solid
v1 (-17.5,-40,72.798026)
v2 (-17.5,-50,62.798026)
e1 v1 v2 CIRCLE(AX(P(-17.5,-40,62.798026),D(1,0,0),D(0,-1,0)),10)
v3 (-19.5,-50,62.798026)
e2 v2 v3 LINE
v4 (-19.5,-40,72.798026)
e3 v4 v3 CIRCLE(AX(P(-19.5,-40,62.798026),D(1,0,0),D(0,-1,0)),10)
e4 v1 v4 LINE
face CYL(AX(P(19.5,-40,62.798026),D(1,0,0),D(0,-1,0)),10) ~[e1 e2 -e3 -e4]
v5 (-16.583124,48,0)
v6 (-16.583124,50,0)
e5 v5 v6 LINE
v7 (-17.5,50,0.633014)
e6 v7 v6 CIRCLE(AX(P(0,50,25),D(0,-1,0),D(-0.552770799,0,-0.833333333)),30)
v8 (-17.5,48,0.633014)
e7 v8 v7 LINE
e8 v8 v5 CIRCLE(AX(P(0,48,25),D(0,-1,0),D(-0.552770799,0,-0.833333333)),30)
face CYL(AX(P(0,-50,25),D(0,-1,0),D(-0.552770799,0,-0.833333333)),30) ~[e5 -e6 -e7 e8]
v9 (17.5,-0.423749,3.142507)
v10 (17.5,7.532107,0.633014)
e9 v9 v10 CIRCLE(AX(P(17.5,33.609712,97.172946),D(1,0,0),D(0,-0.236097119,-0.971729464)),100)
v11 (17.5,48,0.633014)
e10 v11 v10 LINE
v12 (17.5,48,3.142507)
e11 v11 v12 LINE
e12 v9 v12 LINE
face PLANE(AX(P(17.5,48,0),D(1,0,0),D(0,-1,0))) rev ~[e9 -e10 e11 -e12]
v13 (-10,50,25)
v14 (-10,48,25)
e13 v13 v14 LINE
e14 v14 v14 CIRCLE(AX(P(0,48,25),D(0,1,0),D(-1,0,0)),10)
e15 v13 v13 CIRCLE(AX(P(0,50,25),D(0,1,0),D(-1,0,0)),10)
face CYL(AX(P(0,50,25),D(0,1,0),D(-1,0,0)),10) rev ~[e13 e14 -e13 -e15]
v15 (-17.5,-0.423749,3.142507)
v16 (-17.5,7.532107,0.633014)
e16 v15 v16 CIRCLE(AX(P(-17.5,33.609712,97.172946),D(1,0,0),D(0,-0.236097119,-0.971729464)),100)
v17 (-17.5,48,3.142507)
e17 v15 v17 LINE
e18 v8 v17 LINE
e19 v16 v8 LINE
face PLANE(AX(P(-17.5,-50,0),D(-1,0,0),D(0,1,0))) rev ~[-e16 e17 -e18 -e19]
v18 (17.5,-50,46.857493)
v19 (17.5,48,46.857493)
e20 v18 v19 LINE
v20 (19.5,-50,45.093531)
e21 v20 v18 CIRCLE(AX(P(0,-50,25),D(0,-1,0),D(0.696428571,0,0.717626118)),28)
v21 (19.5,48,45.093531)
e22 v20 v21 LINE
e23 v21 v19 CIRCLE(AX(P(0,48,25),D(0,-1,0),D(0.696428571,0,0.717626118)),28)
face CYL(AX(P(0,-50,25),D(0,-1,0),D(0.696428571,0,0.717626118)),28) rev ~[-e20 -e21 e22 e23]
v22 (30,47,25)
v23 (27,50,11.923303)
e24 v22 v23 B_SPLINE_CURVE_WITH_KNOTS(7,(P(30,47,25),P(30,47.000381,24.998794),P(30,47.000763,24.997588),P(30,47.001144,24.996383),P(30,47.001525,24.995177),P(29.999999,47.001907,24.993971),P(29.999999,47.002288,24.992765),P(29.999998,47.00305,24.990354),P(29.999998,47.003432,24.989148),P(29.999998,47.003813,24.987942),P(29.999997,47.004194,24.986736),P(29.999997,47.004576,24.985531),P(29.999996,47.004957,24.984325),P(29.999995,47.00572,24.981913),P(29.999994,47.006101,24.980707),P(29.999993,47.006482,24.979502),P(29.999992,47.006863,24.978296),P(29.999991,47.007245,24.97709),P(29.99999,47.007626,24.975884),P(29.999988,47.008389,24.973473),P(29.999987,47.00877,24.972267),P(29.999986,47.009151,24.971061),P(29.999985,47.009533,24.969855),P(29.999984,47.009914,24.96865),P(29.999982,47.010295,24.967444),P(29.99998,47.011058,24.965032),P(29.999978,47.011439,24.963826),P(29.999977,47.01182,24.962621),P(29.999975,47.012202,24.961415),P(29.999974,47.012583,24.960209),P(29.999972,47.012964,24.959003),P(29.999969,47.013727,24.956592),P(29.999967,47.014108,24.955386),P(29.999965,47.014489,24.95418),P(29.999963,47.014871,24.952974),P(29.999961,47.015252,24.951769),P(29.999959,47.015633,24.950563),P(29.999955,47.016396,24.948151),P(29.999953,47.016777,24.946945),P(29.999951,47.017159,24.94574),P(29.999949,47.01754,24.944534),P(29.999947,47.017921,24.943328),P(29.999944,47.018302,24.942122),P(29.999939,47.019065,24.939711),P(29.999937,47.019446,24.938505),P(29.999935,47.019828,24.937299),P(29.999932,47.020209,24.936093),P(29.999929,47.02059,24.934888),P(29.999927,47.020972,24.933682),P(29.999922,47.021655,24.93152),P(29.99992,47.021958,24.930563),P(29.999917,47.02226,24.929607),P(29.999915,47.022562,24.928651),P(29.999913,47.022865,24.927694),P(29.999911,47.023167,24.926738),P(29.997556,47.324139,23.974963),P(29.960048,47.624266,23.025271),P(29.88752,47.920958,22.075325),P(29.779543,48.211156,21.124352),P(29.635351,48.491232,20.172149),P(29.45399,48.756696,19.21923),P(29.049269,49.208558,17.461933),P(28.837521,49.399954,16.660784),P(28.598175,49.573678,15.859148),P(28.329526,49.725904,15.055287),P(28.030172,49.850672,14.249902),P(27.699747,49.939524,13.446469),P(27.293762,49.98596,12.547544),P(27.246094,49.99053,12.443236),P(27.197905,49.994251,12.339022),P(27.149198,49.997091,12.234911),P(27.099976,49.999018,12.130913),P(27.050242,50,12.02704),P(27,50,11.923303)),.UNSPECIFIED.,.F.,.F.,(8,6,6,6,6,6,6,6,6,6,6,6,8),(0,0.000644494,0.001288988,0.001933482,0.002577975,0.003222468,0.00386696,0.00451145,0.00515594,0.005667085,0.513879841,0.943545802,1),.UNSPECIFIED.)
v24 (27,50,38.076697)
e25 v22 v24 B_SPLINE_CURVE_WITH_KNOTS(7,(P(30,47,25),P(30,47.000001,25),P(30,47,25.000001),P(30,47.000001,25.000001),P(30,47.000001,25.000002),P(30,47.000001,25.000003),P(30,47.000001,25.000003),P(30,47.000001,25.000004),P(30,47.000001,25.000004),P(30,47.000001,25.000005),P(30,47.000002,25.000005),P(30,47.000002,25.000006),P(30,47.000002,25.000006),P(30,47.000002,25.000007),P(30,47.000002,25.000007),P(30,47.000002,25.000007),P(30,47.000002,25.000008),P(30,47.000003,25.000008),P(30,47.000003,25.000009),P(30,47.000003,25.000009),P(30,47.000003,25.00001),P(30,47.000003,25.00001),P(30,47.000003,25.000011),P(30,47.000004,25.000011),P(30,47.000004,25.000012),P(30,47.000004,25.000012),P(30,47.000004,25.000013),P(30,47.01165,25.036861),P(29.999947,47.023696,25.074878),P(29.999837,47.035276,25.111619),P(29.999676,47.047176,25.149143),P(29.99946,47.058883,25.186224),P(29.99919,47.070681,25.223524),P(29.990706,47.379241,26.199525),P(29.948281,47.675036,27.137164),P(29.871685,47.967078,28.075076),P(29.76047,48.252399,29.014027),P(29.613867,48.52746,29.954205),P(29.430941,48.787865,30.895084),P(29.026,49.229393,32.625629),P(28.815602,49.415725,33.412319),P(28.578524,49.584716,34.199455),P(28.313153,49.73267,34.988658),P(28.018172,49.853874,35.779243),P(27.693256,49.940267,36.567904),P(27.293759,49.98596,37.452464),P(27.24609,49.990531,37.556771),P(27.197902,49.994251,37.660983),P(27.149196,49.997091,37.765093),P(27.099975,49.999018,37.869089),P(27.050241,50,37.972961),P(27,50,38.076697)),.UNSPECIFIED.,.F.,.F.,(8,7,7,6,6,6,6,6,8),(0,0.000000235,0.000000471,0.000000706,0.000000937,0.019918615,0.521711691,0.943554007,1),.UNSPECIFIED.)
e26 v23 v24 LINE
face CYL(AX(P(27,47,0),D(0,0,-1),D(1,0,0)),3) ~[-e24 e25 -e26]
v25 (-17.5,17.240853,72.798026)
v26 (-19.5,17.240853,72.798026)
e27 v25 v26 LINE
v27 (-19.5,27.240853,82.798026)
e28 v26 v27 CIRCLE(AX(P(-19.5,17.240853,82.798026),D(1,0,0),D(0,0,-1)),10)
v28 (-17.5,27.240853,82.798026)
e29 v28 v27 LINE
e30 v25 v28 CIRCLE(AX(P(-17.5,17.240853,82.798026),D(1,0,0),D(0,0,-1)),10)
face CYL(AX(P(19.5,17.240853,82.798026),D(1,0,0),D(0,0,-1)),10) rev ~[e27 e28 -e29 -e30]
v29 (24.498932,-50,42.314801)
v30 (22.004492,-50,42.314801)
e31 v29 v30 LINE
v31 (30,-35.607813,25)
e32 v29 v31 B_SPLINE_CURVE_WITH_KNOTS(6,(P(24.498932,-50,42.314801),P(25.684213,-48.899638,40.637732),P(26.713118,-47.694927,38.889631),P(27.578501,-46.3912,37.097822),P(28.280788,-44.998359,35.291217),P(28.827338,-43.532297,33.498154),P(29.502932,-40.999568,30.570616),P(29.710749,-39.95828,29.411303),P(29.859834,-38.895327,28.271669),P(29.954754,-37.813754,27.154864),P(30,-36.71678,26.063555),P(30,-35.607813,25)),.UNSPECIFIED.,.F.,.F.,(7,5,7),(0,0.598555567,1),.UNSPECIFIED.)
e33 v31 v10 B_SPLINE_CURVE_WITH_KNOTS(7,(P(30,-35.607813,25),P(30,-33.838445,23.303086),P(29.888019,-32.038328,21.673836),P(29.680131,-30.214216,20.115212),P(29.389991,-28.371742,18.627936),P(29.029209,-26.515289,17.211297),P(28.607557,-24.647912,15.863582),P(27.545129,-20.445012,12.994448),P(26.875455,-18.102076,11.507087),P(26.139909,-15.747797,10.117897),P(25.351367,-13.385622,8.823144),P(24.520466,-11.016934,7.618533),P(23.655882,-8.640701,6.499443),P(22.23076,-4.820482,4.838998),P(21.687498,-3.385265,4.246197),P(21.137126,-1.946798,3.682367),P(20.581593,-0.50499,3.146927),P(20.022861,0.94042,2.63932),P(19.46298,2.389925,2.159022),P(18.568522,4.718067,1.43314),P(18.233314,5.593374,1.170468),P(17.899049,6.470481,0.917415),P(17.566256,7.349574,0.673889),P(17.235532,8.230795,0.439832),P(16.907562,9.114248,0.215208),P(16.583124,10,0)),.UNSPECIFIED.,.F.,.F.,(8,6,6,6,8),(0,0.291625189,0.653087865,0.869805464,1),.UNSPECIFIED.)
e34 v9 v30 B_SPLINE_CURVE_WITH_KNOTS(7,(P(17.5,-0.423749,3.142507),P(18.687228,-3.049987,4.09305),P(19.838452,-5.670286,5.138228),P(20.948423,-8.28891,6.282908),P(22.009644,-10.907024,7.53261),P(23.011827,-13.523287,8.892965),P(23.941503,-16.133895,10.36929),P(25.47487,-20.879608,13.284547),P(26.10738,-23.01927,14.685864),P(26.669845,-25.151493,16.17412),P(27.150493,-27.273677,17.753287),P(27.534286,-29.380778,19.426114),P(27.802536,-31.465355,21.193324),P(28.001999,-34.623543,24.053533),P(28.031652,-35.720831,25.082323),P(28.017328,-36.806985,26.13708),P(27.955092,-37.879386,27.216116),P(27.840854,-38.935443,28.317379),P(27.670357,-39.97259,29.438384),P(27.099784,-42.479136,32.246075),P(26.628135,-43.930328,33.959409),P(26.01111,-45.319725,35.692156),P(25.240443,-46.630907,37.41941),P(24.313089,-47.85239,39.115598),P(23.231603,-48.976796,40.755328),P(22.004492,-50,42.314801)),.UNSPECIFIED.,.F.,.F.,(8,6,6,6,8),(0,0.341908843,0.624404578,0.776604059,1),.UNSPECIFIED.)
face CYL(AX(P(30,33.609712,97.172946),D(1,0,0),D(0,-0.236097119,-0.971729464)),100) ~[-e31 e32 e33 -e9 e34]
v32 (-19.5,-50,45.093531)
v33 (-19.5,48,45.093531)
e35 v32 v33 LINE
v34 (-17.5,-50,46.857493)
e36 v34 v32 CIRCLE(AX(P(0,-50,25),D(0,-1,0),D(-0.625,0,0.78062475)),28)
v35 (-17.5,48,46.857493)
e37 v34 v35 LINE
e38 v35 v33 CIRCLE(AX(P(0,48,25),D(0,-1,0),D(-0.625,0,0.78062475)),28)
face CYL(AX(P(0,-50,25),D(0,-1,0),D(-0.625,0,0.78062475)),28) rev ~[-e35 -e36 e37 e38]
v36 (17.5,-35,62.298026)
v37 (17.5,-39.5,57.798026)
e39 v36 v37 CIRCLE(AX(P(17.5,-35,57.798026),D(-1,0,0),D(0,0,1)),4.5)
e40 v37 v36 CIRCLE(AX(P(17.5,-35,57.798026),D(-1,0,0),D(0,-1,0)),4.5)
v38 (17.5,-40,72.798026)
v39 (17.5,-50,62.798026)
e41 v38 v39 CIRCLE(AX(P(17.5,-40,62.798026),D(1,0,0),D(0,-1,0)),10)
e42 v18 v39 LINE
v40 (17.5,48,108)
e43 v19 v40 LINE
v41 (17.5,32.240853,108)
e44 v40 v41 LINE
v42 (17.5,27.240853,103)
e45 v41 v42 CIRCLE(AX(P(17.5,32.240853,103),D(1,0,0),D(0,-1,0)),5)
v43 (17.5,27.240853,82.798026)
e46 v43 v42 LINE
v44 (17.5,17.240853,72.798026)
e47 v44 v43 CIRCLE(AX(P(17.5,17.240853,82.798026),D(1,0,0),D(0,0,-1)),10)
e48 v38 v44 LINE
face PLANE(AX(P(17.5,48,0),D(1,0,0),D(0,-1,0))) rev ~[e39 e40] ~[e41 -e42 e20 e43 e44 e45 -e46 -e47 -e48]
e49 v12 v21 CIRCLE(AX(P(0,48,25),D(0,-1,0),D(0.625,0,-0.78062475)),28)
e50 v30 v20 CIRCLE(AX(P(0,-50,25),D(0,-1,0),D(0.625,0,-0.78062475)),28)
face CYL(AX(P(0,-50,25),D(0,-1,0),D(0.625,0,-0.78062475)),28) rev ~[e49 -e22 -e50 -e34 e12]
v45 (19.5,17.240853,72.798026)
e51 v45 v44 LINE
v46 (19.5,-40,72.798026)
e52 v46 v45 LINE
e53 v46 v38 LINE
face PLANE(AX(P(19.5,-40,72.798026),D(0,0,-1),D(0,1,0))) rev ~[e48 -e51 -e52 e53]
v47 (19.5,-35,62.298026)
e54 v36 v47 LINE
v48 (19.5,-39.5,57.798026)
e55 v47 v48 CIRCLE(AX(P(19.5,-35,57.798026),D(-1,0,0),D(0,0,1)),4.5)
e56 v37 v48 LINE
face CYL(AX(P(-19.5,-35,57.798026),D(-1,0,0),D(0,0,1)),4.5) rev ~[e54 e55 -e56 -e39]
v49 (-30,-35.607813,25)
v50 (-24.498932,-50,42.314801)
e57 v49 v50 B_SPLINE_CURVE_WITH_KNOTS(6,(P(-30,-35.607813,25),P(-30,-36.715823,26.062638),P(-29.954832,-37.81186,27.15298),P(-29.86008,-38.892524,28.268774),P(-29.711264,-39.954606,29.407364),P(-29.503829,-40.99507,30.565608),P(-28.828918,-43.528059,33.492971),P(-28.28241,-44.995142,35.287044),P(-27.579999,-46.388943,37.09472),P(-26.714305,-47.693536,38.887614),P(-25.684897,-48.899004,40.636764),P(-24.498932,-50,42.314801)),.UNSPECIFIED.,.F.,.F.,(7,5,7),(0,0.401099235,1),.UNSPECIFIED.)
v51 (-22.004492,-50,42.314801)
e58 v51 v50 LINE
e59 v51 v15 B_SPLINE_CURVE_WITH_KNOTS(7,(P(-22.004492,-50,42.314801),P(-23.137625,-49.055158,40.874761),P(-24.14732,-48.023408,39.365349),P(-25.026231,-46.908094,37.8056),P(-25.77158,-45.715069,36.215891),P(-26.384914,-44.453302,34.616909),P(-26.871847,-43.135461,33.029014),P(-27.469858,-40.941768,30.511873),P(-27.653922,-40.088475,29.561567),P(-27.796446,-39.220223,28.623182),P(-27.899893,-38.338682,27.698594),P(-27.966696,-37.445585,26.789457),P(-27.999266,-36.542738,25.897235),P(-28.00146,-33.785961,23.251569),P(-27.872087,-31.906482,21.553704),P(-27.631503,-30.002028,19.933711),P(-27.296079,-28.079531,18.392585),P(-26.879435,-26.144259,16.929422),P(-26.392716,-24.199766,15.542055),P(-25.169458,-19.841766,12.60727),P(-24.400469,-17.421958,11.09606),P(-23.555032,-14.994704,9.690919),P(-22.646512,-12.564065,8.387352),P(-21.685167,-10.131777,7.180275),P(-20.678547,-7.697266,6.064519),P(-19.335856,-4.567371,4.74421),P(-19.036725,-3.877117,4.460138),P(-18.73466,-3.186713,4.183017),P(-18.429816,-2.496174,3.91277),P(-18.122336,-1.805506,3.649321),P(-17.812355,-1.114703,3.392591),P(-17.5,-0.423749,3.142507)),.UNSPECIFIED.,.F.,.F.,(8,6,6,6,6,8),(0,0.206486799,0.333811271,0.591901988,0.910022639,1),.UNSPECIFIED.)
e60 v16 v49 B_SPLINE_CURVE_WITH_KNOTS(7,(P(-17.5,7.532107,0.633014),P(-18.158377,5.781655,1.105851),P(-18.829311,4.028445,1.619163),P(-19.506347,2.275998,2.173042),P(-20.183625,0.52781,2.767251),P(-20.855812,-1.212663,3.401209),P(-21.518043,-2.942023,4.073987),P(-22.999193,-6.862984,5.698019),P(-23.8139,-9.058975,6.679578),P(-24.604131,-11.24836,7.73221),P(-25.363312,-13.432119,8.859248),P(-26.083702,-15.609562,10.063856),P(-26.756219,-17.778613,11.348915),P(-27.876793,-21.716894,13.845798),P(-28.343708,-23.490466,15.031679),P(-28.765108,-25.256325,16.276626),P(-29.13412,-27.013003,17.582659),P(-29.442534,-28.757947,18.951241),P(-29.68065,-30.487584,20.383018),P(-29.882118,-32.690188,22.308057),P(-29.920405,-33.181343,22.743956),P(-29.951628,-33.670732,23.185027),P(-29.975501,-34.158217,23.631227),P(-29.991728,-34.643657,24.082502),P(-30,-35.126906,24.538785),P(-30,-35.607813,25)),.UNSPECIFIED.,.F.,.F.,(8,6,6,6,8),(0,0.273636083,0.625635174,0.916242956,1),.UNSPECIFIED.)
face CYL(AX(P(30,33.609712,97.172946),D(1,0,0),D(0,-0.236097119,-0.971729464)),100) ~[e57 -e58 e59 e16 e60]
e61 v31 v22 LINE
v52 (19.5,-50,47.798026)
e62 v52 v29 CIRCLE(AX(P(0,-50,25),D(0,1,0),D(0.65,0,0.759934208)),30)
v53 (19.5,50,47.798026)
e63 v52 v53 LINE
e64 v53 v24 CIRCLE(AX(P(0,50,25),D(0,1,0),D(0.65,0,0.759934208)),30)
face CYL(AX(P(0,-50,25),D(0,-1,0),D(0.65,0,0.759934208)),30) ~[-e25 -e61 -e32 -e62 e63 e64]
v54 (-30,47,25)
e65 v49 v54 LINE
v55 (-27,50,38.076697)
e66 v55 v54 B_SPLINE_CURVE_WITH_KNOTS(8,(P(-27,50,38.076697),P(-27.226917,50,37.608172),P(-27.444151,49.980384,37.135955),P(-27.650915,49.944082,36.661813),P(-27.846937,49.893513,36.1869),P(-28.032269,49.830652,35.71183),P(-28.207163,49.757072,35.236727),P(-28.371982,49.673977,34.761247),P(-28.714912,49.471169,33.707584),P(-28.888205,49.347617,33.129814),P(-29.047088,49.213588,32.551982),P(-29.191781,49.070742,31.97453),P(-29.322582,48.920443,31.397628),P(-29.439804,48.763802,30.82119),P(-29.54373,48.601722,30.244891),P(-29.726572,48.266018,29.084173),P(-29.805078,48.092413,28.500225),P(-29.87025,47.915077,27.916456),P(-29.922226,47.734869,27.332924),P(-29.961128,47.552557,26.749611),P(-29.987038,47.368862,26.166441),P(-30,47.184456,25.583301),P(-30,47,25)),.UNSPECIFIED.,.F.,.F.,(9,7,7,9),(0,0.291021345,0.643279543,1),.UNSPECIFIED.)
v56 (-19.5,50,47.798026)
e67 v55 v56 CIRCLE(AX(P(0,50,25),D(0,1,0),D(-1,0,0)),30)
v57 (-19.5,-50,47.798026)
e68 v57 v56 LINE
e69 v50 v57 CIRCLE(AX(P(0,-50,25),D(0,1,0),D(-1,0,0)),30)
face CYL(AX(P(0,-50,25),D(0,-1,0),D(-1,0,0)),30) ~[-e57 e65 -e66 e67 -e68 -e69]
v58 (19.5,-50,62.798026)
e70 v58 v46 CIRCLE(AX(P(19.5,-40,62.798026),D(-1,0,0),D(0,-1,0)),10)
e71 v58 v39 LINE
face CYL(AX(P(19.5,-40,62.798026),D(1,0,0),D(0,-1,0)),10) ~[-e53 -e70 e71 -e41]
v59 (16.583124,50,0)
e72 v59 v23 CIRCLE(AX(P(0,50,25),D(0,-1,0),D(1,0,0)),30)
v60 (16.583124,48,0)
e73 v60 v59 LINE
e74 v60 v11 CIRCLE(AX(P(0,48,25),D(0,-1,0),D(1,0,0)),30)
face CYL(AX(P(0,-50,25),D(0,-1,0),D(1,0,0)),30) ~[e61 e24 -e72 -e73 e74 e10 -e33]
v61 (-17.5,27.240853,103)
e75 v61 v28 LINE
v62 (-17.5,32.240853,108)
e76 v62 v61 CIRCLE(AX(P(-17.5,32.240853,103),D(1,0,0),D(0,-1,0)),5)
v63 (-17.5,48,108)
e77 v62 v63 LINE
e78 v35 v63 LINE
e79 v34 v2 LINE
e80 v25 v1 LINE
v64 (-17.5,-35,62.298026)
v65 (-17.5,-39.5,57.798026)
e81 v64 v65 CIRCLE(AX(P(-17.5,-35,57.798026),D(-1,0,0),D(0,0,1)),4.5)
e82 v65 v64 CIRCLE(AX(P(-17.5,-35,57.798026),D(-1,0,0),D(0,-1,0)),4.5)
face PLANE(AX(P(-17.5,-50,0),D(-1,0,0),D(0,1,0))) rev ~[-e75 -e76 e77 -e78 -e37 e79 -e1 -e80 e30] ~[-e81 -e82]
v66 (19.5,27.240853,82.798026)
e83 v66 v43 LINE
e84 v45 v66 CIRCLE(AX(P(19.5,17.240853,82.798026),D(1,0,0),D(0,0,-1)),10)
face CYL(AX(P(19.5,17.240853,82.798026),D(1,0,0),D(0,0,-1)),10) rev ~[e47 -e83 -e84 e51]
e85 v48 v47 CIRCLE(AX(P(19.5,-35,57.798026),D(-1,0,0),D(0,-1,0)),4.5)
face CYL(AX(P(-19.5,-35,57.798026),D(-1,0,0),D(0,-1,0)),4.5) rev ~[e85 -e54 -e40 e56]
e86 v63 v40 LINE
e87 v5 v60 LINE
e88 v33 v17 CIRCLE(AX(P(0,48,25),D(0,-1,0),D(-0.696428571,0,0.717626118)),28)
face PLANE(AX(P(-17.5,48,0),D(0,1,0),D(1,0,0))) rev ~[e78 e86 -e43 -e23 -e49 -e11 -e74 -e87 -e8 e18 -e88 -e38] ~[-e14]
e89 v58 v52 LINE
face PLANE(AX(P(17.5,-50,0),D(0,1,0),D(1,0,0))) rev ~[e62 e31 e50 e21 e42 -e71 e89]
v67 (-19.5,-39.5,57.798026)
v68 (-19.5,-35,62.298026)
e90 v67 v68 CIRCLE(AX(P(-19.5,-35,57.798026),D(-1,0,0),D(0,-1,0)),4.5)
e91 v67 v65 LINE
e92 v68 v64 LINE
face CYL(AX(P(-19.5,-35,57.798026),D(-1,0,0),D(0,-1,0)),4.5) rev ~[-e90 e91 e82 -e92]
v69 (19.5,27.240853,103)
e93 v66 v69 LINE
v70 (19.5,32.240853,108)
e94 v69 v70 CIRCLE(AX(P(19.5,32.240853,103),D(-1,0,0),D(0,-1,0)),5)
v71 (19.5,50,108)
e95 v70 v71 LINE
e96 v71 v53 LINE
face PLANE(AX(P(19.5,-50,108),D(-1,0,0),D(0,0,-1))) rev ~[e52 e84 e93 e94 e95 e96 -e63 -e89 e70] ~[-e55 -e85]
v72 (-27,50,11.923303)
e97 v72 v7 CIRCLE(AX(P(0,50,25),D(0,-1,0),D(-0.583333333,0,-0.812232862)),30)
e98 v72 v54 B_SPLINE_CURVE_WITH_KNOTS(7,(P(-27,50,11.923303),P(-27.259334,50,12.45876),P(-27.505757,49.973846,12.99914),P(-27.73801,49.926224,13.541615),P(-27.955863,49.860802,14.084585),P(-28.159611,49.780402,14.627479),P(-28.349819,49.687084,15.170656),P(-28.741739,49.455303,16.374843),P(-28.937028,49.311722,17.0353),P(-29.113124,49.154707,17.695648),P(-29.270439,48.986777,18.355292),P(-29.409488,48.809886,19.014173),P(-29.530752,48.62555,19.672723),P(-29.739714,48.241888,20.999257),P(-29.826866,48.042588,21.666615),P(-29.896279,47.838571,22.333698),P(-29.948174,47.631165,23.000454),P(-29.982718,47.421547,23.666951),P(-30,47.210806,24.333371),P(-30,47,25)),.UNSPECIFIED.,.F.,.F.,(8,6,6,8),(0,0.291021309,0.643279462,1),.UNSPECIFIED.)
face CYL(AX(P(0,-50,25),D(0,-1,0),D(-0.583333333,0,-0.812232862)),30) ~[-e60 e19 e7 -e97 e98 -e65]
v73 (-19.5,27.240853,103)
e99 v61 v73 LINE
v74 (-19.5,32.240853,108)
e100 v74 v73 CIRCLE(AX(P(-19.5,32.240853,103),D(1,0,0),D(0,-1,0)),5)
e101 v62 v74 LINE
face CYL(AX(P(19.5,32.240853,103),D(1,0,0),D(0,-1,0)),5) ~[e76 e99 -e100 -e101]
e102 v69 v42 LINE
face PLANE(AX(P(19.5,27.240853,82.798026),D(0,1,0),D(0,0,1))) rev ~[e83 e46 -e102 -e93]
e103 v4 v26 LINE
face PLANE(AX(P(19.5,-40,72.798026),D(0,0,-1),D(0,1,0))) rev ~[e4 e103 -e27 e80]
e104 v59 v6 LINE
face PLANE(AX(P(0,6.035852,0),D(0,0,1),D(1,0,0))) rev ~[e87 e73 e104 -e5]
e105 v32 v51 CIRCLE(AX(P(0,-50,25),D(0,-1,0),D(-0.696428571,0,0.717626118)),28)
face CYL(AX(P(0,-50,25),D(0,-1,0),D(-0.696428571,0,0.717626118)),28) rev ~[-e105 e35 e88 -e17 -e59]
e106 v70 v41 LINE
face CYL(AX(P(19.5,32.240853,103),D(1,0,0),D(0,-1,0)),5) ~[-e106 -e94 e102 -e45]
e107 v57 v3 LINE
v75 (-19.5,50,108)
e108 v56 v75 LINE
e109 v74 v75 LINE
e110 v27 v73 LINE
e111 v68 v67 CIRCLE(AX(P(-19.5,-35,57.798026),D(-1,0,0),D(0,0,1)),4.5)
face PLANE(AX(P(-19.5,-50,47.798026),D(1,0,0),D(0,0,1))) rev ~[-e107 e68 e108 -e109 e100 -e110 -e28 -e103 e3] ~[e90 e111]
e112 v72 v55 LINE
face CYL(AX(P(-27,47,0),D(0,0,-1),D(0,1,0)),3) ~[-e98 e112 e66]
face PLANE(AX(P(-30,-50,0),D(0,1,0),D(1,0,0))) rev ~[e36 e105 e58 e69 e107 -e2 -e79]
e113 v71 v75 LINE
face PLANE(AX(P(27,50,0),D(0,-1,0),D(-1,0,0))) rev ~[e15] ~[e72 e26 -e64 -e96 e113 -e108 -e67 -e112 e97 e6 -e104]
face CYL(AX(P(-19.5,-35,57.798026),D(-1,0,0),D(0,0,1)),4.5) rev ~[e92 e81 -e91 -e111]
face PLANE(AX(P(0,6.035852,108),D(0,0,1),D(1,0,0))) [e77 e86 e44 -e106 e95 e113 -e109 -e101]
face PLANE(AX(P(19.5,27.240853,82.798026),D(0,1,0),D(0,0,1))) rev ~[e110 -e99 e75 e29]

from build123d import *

# Parameters (mm, degrees)
F1_DEPTH  = 108
F3_DEPTH  = 150
F5_DEPTH  = 98
F7_DEPTH  = 100
F8_DEPTH  = 100
F10_DEPTH = 100
F11_R     = 10
F12_DEPTH = 25
F14_DEPTH = 100


with BuildPart() as f1:
    # F0 (on Top) → F1 (new body)
    with BuildSketch(Plane.XY):
        with BuildLine():
            Line((17.5, -50), (30, -50))
            Line((30, -50), (30, 47))
            ThreePointArc((30, 47), (29.1213203436, 49.1213203436), (27, 50))
            Line((27, 50), (-27, 50))
            ThreePointArc((-27, 50), (-29.1213203436, 49.1213203436), (-30, 47))
            Line((-30, 47), (-30, -50))
            Line((-30, -50), (-17.5, -50))
            Line((-17.5, -50), (-17.5, -48))
            Line((-17.5, -48), (-17.5, 48))
            Line((-17.5, 48), (17.5, 48))
            Line((17.5, 48), (17.5, -48))
            Line((17.5, -48), (17.5, -50))
        make_face()
    extrude(amount=F1_DEPTH)

    # F2 (on face) → F3 (cut)
    with BuildSketch(Plane.XZ.offset(50)):
        with BuildLine():
            Line((30, 0), (30, 25))
            ThreePointArc((30, 25), (26.4338203685, 10.8136283454), (16.5831239518, 0))
            Line((16.5831239518, 0), (30, 0))
        make_face()
        with BuildLine():
            ThreePointArc((-17.5, 0.633014138), (-26.6926956301, 11.3069360624), (-30, 25))
            Line((-30, 25), (-30, 0))
            Line((-30, 0), (-17.5, 0))
            Line((-17.5, 0), (-17.5, 0.633014138))
        make_face()
        with BuildLine():
            ThreePointArc((-16.5831239518, 0), (-17.0445009109, 0.3122502302), (-17.5, 0.633014138))
            Line((-17.5, 0.633014138), (-17.5, 0))
            Line((-17.5, 0), (-16.5831239518, 0))
        make_face()
    extrude(amount=-F3_DEPTH, mode=Mode.SUBTRACT)

    # F4 (on face) → F5 (cut)
    with BuildSketch(Plane.XZ.offset(50)):
        with BuildLine():
            ThreePointArc((-19.5, 45.0935312974), (-27.9682339411, 23.6666245026), (-17.5, 3.1425070056))
            Line((-17.5, 3.1425070056), (-17.5, 46.8574929944))
            ThreePointArc((-17.5, 46.8574929944), (-18.5210121272, 45.9993359367), (-19.5, 45.0935312974))
        make_face()
        with BuildLine():
            Line((17.5, 46.8574929944), (17.5, 3.1425070056))
            ThreePointArc((17.5, 3.1425070056), (25.2388589282, 12.875644347), (28, 25))
            ThreePointArc((28, 25), (25.7875939165, 35.9087121146), (19.5, 45.0935312974))
            ThreePointArc((19.5, 45.0935312974), (18.5210121272, 45.9993359367), (17.5, 46.8574929944))
        make_face()
    extrude(amount=-F5_DEPTH, mode=Mode.SUBTRACT)

    # F6 (on face) → F7 (cut)
    with BuildSketch(Plane.YZ.offset(30)):
        with BuildLine():
            Line((-50, 42.3148013651), (-50, 0))
            Line((-50, 0), (10, 0))
            ThreePointArc((10, 0), (-24.0239311691, 15.4516934038), (-50, 42.3148013651))
        make_face()
    extrude(amount=-F7_DEPTH, mode=Mode.SUBTRACT)

    # F4 (on face) → F8 (cut)
    with BuildSketch(Plane.XZ.offset(50)):
        with BuildLine():
            Line((-30, 108), (-30, 25))
            ThreePointArc((-30, 25), (-27.2488531869, 37.549900398), (-19.5, 47.7980262304))
            Line((-19.5, 47.7980262304), (-19.5, 108))
            Line((-19.5, 108), (-30, 108))
        make_face()
        with BuildLine():
            ThreePointArc((19.5, 47.7980262304), (27.2488531869, 37.549900398), (30, 25))
            Line((30, 25), (30, 108))
            Line((30, 108), (19.5, 108))
            Line((19.5, 108), (19.5, 47.7980262304))
        make_face()
    extrude(amount=-F8_DEPTH, mode=Mode.SUBTRACT)

    # F9 (on face) → F10 (cut)
    with BuildSketch(Plane.YZ.offset(19.5)):
        with BuildLine():
            ThreePointArc((-50, 62.7980262304), (-47.0710678119, 69.8690940422), (-40, 72.7980262304))
            Line((-40, 72.7980262304), (17.2408529371, 72.7980262304))
            ThreePointArc((17.2408529371, 72.7980262304), (24.311920749, 75.7269584185), (27.2408529371, 82.7980262304))
            Line((27.2408529371, 82.7980262304), (27.2408529371, 103))
            ThreePointArc((27.2408529371, 103), (28.7053190312, 106.5355339059), (32.2408529371, 108))
            Line((32.2408529371, 108), (-50, 108))
            Line((-50, 108), (-50, 62.7980262304))
        make_face()
    extrude(amount=-F10_DEPTH, mode=Mode.SUBTRACT)

    # F11 (on face) → F12 (cut)
    with BuildSketch(Plane(origin=(0, 50, 0), x_dir=(-1, 0, 0), z_dir=(0, 1, 0))):
        with Locations((0, 25)):
            Circle(F11_R)
    extrude(amount=-F12_DEPTH, mode=Mode.SUBTRACT)

    # F13 (on face) → F14 (cut)
    with BuildSketch(Plane(origin=(-19.5, 0, 0), x_dir=(0, -1, 0), z_dir=(-1, 0, 0))):
        with BuildLine():
            Line((35, 57.7980262304), (39.5, 57.7980262304))
            ThreePointArc((39.5, 57.7980262304), (38.1819805153, 60.9800067457), (35, 62.2980262304))
            Line((35, 62.2980262304), (35, 57.7980262304))
        make_face()
        with BuildLine():
            ThreePointArc((35, 62.2980262304), (31.8180194847, 54.616045715), (39.5, 57.7980262304))
            Line((39.5, 57.7980262304), (35, 57.7980262304))
            Line((35, 57.7980262304), (35, 62.2980262304))
        make_face()
    extrude(amount=-F14_DEPTH, mode=Mode.SUBTRACT)


solid = f1.part
